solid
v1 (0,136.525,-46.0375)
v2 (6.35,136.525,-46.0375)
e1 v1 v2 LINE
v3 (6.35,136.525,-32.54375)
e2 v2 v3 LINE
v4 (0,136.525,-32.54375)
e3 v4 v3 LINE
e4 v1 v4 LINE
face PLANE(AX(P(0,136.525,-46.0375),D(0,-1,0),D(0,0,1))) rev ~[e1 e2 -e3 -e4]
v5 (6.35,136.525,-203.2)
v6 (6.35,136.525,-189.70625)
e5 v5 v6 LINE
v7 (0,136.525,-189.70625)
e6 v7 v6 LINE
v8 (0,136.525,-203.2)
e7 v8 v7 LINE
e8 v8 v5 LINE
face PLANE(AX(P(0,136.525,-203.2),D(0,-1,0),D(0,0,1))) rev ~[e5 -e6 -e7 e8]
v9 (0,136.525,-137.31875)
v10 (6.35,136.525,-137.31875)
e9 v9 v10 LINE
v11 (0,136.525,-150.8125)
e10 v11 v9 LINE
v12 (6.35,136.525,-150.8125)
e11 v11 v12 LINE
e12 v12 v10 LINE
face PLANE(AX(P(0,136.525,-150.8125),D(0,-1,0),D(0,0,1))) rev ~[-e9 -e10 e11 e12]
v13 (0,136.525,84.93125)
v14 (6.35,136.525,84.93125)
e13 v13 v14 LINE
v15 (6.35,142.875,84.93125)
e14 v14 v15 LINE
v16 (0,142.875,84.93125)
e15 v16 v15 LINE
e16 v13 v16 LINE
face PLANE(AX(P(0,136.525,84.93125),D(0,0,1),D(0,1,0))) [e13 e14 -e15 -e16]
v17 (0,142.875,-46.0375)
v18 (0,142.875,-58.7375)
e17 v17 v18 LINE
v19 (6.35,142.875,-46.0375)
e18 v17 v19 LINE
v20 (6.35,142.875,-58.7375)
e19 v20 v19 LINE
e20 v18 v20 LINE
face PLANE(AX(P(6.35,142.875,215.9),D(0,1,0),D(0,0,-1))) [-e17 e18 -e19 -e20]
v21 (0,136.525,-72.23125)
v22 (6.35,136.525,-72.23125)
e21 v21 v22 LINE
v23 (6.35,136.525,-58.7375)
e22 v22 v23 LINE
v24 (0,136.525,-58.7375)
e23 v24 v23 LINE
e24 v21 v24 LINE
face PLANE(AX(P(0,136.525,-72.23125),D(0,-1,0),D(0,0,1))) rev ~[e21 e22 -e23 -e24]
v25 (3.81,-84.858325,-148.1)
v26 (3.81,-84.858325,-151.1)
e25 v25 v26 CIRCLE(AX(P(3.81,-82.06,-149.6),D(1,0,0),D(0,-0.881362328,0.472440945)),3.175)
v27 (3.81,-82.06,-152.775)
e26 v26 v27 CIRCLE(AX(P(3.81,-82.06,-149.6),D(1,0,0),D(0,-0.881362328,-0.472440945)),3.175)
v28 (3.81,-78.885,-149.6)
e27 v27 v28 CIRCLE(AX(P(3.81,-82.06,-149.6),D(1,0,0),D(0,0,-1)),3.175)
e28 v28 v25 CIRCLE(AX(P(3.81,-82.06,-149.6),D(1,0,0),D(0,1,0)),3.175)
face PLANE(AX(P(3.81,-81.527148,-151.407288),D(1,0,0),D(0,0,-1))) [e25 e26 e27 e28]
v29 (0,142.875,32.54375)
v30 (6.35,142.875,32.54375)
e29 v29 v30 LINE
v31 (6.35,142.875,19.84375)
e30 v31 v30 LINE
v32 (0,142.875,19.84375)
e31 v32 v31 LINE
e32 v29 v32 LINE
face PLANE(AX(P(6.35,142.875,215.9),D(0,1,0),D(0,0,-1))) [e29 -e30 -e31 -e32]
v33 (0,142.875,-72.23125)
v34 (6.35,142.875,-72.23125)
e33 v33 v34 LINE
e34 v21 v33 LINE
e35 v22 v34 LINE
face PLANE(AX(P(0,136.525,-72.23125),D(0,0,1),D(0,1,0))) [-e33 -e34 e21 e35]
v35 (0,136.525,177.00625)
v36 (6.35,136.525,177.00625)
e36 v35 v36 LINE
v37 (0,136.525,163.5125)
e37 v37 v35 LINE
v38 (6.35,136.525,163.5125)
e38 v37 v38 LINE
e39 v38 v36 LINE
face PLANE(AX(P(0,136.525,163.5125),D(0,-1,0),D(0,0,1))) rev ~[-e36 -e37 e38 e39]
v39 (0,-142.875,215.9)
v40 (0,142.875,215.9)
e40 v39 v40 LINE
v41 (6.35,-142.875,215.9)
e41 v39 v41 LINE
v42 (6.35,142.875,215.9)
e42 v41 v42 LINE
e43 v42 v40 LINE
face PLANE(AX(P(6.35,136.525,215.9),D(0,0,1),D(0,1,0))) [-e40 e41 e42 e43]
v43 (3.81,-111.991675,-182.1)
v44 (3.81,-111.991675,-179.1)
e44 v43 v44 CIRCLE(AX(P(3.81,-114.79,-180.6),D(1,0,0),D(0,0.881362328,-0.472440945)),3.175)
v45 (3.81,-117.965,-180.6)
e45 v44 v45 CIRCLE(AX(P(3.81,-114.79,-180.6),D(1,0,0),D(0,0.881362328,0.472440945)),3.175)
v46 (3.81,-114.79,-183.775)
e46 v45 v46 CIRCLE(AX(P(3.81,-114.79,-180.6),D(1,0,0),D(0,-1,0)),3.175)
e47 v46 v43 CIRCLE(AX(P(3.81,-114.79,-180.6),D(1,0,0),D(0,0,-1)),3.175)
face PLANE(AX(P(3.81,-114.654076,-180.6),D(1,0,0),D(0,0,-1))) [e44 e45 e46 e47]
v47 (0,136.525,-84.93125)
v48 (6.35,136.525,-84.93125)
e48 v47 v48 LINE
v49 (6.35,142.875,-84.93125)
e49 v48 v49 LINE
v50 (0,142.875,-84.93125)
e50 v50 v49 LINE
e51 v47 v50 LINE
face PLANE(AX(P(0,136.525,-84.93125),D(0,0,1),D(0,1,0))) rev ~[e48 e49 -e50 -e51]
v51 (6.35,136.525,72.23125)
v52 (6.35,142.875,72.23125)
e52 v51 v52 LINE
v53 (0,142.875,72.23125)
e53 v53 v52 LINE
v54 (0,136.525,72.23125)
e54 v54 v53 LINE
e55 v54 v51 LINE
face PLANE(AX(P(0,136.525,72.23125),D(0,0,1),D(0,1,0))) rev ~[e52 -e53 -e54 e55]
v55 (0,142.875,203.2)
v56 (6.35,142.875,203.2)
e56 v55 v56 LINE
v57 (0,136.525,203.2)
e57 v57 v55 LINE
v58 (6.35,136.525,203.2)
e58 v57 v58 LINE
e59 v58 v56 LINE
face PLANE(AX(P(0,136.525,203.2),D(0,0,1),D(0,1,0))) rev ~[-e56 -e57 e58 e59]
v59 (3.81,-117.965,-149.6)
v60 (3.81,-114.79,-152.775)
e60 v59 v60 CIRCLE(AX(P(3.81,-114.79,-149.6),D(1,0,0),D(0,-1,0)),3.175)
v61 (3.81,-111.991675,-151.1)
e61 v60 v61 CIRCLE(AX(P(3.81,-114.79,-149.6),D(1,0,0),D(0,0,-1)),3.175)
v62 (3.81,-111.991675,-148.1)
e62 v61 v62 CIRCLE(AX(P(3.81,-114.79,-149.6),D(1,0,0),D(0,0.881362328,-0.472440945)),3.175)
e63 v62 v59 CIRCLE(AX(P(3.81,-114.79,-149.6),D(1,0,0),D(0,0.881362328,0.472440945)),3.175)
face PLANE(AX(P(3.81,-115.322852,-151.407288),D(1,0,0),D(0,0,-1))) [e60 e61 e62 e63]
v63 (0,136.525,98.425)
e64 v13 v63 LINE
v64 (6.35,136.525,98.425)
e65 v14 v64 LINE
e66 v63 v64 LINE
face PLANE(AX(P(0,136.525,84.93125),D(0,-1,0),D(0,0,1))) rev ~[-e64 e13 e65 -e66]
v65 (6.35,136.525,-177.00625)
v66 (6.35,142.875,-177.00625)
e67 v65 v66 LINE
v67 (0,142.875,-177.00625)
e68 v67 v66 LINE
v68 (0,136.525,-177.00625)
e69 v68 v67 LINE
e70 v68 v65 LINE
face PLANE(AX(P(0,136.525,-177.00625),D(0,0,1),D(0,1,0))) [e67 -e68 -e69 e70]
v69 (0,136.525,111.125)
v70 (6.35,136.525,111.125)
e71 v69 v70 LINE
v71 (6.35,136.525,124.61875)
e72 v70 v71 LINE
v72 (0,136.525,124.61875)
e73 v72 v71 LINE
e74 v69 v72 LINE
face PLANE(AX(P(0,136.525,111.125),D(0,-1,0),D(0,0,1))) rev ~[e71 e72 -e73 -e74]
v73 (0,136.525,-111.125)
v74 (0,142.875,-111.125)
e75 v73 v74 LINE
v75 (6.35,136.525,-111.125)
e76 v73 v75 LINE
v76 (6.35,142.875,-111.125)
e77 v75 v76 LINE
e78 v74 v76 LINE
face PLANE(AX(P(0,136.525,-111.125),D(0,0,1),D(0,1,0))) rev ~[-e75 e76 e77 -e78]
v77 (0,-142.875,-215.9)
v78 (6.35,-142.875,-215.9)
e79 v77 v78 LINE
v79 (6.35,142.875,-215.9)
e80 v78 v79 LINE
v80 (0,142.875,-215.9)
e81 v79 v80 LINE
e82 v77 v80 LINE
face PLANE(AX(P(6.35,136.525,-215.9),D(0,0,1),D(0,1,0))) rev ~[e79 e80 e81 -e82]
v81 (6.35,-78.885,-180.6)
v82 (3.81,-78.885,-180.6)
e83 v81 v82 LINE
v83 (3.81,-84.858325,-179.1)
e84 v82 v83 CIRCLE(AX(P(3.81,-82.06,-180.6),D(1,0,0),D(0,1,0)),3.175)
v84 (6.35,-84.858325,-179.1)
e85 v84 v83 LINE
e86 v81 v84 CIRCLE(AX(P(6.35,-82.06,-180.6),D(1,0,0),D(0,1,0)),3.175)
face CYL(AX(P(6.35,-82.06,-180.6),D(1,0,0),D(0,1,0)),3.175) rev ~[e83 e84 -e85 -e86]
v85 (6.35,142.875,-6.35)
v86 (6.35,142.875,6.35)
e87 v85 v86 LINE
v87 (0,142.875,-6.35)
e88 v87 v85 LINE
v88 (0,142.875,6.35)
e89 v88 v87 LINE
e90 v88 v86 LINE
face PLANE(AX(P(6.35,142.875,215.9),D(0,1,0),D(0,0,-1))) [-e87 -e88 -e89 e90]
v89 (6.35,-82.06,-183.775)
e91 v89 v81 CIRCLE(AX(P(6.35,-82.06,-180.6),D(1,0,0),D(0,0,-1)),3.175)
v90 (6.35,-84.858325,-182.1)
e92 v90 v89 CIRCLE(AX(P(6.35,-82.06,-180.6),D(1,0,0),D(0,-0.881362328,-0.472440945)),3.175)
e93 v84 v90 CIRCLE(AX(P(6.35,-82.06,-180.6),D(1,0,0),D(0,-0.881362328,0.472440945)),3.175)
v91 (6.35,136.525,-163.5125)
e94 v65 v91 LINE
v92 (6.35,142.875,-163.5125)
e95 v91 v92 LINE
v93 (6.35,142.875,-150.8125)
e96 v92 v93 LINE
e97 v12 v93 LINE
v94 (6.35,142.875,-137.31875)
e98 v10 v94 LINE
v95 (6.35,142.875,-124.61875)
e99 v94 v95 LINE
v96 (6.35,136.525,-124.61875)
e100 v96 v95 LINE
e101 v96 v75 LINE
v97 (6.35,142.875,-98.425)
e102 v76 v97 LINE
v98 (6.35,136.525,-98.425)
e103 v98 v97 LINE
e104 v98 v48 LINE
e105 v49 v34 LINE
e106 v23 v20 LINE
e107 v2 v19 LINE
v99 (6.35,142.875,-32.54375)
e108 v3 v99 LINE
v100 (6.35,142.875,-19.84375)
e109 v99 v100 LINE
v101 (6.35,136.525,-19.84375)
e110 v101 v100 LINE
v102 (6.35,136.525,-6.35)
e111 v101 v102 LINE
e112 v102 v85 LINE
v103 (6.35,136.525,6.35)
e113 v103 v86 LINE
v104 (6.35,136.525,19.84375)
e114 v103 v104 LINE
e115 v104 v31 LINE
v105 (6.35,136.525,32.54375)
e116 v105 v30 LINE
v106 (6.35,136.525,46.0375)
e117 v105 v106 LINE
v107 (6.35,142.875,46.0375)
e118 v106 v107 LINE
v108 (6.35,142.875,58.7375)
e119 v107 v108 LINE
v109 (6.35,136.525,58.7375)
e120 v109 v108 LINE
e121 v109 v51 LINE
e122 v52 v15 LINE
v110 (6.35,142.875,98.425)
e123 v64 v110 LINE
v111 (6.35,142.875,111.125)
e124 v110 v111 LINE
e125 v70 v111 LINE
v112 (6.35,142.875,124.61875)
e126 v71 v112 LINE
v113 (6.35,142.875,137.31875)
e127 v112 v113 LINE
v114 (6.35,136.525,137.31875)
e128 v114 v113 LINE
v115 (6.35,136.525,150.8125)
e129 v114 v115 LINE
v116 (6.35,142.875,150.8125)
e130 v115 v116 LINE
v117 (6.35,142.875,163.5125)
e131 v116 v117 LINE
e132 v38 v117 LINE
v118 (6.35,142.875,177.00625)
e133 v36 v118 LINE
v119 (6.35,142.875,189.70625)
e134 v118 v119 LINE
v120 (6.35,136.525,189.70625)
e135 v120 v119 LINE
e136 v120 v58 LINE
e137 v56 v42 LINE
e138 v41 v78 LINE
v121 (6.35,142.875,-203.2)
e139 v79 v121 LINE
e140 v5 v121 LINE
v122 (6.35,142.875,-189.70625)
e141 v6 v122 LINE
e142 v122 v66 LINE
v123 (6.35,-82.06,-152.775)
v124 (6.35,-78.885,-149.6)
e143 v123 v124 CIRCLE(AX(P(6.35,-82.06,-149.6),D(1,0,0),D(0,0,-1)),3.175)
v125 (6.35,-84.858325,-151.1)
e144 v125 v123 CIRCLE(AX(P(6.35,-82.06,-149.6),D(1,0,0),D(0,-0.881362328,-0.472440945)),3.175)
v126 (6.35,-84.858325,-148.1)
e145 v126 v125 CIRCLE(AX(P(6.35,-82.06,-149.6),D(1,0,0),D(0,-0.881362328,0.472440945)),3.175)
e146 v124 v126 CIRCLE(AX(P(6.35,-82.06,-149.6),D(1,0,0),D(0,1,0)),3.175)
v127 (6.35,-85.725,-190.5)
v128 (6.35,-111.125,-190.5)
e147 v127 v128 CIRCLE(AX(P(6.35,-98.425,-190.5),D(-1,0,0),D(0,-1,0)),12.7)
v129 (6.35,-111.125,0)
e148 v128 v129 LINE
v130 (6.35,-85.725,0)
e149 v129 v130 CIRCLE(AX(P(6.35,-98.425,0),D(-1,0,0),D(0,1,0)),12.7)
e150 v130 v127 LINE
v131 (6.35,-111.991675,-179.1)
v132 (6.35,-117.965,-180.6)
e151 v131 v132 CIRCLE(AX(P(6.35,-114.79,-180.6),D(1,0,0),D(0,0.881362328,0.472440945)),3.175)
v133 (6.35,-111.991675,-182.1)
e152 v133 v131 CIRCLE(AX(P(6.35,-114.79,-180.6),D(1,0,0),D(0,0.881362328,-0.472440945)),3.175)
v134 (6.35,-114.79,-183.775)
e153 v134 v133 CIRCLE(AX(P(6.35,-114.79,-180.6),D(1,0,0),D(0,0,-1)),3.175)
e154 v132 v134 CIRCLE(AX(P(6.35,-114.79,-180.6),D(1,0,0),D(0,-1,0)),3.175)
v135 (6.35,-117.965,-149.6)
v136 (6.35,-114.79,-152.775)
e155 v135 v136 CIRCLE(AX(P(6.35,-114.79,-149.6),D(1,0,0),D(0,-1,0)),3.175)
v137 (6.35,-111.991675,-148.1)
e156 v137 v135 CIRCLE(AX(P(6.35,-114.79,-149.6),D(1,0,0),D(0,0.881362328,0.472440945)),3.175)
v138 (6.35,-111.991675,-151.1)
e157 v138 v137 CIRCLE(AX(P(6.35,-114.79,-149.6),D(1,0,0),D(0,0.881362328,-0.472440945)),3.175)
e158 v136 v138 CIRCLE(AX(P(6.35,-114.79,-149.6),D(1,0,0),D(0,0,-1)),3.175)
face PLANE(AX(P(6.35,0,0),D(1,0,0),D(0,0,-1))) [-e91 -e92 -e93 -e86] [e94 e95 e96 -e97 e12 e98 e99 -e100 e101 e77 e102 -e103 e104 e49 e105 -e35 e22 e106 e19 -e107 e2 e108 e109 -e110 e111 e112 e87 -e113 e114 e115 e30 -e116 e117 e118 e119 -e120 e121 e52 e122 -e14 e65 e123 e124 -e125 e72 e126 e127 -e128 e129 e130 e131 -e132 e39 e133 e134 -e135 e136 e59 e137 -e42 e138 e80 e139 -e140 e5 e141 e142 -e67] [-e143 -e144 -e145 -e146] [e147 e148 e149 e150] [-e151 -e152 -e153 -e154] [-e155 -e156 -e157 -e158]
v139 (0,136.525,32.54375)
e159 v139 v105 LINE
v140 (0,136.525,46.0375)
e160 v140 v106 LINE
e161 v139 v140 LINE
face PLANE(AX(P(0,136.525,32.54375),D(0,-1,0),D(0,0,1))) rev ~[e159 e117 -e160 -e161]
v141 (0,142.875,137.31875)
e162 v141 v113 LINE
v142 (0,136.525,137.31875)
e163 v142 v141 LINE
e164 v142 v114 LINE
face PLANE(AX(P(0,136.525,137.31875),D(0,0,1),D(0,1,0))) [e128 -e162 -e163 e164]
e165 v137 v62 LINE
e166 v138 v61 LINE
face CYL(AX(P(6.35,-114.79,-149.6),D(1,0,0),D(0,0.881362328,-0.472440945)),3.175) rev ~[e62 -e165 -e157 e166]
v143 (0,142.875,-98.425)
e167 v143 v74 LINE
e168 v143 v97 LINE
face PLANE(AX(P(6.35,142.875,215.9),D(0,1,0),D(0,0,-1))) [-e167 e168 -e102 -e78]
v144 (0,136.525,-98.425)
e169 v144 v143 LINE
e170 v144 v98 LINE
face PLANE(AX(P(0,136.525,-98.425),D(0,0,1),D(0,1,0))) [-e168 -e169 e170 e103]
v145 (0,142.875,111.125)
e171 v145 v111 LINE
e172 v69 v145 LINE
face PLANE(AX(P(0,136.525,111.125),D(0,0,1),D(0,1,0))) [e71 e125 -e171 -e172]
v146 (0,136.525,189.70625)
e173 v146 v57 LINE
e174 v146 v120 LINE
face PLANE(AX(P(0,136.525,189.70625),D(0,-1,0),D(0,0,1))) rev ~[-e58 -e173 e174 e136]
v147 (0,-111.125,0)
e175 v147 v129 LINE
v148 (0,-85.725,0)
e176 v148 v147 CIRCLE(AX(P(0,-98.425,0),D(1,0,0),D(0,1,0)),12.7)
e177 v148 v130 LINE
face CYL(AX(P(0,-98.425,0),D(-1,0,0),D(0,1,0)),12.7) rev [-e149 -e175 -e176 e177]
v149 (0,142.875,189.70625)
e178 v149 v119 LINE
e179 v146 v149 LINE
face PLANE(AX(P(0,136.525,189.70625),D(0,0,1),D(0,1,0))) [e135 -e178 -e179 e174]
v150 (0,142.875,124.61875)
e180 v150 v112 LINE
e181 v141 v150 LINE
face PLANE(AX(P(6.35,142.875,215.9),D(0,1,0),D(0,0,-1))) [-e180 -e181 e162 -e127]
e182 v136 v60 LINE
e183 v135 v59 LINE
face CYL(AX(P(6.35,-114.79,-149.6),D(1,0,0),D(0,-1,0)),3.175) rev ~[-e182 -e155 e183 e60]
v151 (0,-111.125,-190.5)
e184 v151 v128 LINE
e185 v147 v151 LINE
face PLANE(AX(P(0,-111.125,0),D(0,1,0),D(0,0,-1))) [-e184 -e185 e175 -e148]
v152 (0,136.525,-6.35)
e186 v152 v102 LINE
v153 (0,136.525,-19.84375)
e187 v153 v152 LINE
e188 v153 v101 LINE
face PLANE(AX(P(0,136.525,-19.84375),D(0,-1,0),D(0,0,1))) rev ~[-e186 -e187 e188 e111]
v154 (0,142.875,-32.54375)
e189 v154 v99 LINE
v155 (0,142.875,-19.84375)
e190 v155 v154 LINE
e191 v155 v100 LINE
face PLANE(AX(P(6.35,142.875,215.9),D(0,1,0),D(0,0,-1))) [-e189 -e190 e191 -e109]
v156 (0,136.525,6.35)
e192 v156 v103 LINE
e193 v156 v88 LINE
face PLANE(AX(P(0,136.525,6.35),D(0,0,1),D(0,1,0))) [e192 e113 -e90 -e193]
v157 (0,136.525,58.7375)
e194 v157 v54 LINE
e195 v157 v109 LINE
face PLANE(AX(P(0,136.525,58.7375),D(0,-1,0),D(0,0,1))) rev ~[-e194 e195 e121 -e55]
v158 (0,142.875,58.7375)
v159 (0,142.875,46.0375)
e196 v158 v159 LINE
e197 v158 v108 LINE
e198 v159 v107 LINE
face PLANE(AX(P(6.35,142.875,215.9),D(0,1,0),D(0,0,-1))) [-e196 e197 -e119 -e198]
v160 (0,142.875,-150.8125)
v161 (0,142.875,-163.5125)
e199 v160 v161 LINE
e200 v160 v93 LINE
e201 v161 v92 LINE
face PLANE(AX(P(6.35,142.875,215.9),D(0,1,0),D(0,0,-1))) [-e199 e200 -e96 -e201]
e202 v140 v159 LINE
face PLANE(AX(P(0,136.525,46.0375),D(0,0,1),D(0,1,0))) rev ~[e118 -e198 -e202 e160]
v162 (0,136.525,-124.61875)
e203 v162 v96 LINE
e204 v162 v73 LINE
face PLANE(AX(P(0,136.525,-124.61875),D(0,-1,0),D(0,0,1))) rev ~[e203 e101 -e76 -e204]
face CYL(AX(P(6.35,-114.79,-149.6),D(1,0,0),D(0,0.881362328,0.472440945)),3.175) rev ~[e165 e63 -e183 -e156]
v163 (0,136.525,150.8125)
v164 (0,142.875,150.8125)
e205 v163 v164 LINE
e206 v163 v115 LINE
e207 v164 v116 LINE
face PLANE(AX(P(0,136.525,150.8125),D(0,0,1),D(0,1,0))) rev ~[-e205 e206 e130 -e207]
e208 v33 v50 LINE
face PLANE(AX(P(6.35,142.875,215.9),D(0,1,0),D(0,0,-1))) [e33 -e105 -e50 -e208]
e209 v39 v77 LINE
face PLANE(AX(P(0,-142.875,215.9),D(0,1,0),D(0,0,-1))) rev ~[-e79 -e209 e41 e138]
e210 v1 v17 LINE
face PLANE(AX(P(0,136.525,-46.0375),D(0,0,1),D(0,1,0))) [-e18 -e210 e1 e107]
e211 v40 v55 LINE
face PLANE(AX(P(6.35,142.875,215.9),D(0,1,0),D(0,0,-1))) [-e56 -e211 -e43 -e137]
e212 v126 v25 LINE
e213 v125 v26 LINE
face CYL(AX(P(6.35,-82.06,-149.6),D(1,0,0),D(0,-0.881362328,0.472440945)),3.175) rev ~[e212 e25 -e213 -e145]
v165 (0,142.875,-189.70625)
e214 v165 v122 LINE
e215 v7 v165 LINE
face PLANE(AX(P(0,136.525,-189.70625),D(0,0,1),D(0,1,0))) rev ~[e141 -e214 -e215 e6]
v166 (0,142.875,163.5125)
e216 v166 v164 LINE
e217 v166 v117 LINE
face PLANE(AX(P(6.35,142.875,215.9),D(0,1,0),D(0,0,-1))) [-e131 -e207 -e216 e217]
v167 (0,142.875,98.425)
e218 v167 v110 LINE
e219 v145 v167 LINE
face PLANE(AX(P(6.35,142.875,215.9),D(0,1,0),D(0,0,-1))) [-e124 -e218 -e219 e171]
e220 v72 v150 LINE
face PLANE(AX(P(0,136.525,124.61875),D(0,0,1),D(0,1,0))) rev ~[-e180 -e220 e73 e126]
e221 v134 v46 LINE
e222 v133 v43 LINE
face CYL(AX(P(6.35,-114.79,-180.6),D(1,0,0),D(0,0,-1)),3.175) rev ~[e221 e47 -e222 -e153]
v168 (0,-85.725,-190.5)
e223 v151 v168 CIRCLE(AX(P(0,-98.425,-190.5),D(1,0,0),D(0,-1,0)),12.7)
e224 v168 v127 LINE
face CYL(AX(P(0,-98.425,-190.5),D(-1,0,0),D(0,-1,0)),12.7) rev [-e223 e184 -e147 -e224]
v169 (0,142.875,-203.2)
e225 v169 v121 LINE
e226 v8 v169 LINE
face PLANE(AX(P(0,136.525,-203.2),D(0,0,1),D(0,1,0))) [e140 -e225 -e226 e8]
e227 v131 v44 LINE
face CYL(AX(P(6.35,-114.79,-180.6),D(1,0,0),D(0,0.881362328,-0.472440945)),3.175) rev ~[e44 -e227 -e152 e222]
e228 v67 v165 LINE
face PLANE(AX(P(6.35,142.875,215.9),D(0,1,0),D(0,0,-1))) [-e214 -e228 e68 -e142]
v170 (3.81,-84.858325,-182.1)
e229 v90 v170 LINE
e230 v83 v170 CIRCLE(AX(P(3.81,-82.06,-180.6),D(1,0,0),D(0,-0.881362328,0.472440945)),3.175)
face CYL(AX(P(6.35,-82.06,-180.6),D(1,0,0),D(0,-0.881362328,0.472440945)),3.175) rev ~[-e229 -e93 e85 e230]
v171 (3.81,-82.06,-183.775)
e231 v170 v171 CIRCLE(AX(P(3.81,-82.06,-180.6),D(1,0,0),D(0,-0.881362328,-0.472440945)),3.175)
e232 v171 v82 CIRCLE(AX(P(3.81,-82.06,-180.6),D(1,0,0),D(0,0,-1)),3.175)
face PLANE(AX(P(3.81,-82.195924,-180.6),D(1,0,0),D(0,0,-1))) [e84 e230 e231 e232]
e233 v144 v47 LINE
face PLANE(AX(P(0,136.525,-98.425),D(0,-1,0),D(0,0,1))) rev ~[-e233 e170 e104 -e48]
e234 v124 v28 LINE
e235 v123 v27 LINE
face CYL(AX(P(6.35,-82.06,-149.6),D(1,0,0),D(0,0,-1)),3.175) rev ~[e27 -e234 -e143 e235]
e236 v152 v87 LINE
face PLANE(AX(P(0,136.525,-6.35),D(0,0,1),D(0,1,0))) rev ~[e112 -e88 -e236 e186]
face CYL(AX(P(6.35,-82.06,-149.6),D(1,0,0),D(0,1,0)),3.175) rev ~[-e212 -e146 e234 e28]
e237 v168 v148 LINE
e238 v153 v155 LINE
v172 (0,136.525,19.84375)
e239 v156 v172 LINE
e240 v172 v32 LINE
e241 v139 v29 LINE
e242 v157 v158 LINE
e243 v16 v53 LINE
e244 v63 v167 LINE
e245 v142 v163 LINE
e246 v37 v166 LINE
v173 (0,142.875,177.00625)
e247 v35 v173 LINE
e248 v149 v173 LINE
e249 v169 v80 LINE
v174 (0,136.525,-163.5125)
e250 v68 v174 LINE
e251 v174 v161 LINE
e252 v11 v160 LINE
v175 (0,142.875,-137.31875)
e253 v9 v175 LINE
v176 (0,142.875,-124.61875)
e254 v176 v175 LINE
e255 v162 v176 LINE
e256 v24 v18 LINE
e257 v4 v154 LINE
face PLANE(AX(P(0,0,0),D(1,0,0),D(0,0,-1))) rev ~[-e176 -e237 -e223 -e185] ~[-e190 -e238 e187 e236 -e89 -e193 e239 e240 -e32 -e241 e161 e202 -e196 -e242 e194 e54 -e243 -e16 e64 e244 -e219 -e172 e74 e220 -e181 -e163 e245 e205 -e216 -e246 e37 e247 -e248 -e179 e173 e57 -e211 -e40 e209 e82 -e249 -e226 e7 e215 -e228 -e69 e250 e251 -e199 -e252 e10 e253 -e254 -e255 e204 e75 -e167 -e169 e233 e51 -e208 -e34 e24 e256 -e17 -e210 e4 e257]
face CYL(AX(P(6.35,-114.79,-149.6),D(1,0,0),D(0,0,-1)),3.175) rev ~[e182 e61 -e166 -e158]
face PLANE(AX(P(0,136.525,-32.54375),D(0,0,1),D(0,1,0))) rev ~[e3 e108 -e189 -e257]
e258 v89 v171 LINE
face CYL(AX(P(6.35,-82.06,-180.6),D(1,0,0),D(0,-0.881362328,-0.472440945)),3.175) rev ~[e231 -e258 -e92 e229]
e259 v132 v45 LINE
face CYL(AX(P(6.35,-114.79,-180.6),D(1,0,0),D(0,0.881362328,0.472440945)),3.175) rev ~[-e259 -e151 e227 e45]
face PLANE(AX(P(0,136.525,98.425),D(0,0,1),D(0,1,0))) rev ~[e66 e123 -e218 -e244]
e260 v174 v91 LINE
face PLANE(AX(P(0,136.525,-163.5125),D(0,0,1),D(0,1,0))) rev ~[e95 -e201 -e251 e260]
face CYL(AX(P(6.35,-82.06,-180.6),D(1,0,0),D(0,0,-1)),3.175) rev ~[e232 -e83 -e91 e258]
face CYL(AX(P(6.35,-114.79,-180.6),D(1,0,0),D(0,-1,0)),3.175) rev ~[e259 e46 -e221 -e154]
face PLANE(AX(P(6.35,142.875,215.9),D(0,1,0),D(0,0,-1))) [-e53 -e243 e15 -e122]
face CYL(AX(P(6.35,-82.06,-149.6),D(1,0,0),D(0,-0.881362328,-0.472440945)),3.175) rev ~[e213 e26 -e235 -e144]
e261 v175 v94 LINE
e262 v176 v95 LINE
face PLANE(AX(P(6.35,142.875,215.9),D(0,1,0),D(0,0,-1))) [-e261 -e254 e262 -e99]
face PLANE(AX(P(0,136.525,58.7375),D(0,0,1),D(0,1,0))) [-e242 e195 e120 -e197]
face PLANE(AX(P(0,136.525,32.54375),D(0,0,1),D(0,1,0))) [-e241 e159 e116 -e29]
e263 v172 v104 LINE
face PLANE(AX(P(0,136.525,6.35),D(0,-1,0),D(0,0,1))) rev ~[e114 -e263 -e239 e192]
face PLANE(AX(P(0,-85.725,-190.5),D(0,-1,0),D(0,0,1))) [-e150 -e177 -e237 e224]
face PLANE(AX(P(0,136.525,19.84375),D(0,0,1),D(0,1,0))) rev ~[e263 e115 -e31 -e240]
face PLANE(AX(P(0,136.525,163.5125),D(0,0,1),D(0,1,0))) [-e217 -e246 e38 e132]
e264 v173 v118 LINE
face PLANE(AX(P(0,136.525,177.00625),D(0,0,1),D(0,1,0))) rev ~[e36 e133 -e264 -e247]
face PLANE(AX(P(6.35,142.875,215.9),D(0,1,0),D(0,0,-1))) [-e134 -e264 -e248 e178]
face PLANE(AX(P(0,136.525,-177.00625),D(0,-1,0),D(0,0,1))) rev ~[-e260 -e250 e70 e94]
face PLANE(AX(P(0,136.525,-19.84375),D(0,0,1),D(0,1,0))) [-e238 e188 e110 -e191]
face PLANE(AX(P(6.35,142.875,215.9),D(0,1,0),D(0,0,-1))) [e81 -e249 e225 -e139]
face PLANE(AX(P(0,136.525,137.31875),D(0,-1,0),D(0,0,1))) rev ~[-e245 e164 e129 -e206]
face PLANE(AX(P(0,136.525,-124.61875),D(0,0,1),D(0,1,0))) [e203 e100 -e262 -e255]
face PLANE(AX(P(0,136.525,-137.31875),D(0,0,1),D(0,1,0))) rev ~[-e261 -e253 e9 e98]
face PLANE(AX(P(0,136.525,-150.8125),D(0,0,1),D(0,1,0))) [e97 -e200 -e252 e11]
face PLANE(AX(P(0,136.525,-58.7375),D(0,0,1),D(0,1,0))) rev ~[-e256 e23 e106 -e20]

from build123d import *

# Parameters (mm, degrees)
SKETCH1_W           = 431.8
SKETCH1_H           = 285.75
BOSS_EXTRUDE1_DEPTH = 6.35
SKETCH2_W           = 431.8
SKETCH2_H           = 6.35
BOSS_EXTRUDE2_DEPTH = 12.7
CUT_EXTRUDE1_DEPTH  = 20.05
SKETCH5_W           = 51.415141408
SKETCH5_H           = 21.159166417
CUT_EXTRUDE2_DEPTH  = 432.8
SKETCH4_W           = 13.49375
SKETCH4_H           = 6.35
CUT_EXTRUDE3_DEPTH  = 6.35
CUT_EXTRUDE5_DEPTH  = 2.54


with BuildPart() as part:
    # Sketch1 → Boss-Extrude1 (new body)
    with BuildSketch(Plane(origin=(0, 0, 0), x_dir=(0, 0, -1), z_dir=(1, 0, 0))):
        Rectangle(SKETCH1_W, SKETCH1_H)
    extrude(amount=BOSS_EXTRUDE1_DEPTH)

    # Sketch2 → Boss-Extrude2 (add)
    with BuildSketch(Plane(origin=(6.35, 0, 0), x_dir=(0, 0, -1), z_dir=(1, 0, 0))):
        with Locations((0, 139.7)):
            Rectangle(SKETCH2_W, SKETCH2_H)
    extrude(amount=BOSS_EXTRUDE2_DEPTH)

    # Sketch3 → Cut-Extrude1 (cut, through all)
    with BuildSketch(Plane.ZY):
        with BuildLine():
            Line((-190.5, -85.725), (0, -85.725))
            ThreePointArc((0, -85.725), (12.7, -98.425), (0, -111.125))
            Line((0, -111.125), (-190.5, -111.125))
            ThreePointArc((-190.5, -111.125), (-203.2, -98.425), (-190.5, -85.725))
        make_face()
    extrude(amount=-CUT_EXTRUDE1_DEPTH, mode=Mode.SUBTRACT)

    # Sketch5 → Cut-Extrude2 (cut, through all)
    with BuildSketch(Plane(origin=(0, 0, -215.9), x_dir=(-1, 0, 0), z_dir=(0, 0, -1))):
        with Locations((-32.057570704, 147.104583209)):
            Rectangle(SKETCH5_W, SKETCH5_H)
    extrude(amount=-CUT_EXTRUDE2_DEPTH, mode=Mode.SUBTRACT)

    # Sketch4 → Cut-Extrude3 (cut)
    with BuildSketch(Plane.ZY):
        with Locations((-196.453125, 139.7)):
            Rectangle(SKETCH4_W, SKETCH4_H)
        with Locations((-170.259375, 139.7)):
            Rectangle(SKETCH4_W, SKETCH4_H)
        with Locations((-144.065625, 139.7)):
            Rectangle(SKETCH4_W, SKETCH4_H)
        with Locations((-117.871875, 139.7)):
            Rectangle(SKETCH4_W, SKETCH4_H)
        with Locations((-91.678125, 139.7)):
            Rectangle(SKETCH4_W, SKETCH4_H)
        with Locations((-65.484375, 139.7)):
            Rectangle(SKETCH4_W, SKETCH4_H)
        with Locations((-39.290625, 139.7)):
            Rectangle(SKETCH4_W, SKETCH4_H)
        with Locations((-13.096875, 139.7)):
            Rectangle(SKETCH4_W, SKETCH4_H)
        with Locations((13.096875, 139.7)):
            Rectangle(SKETCH4_W, SKETCH4_H)
        with Locations((39.290625, 139.7)):
            Rectangle(SKETCH4_W, SKETCH4_H)
        with Locations((65.484375, 139.7)):
            Rectangle(SKETCH4_W, SKETCH4_H)
        with Locations((91.678125, 139.7)):
            Rectangle(SKETCH4_W, SKETCH4_H)
        with Locations((117.871875, 139.7)):
            Rectangle(SKETCH4_W, SKETCH4_H)
        with Locations((144.065625, 139.7)):
            Rectangle(SKETCH4_W, SKETCH4_H)
        with Locations((170.259375, 139.7)):
            Rectangle(SKETCH4_W, SKETCH4_H)
        with Locations((196.453125, 139.7)):
            Rectangle(SKETCH4_W, SKETCH4_H)
    extrude(amount=-CUT_EXTRUDE3_DEPTH, mode=Mode.SUBTRACT)

    # Sketch6 → Cut-Extrude5 (cut)
    with BuildSketch(Plane(origin=(6.35, 0, 0), x_dir=(0, 0, -1), z_dir=(1, 0, 0))):
        with BuildLine():
            ThreePointArc((152.775, -82.06), (151.84506403, -79.81493597), (149.6, -78.885))
            ThreePointArc((149.6, -78.885), (150.660660172, -79.324339828), (151.1, -80.385))
            Line((151.1, -80.385), (151.1, -84.858325392))
            ThreePointArc((151.1, -84.858325392), (152.324254485, -83.690663209), (152.775, -82.06))
        make_face()
        with BuildLine():
            Line((148.1, -80.385), (148.1, -84.858325392))
            ThreePointArc((148.1, -84.858325392), (149.6, -85.235), (151.1, -84.858325392))
            Line((151.1, -84.858325392), (151.1, -80.385))
            ThreePointArc((151.1, -80.385), (150.660660172, -79.324339828), (149.6, -78.885))
            ThreePointArc((149.6, -78.885), (148.539339828, -79.324339828), (148.1, -80.385))
        make_face()
        with BuildLine():
            ThreePointArc((149.6, -78.885), (146.520608167, -81.286714193), (148.1, -84.858325392))
            Line((148.1, -84.858325392), (148.1, -80.385))
            ThreePointArc((148.1, -80.385), (148.539339828, -79.324339828), (149.6, -78.885))
        make_face()
        with BuildLine():
            Line((179.1, -80.385), (179.1, -84.858325392))
            ThreePointArc((179.1, -84.858325392), (180.6, -85.235), (182.1, -84.858325392))
            Line((182.1, -84.858325392), (182.1, -80.385))
            ThreePointArc((182.1, -80.385), (181.660660172, -79.324339828), (180.6, -78.885))
            ThreePointArc((180.6, -78.885), (179.539339828, -79.324339828), (179.1, -80.385))
        make_face()
        with BuildLine():
            ThreePointArc((180.6, -78.885), (177.520608167, -81.286714193), (179.1, -84.858325392))
            Line((179.1, -84.858325392), (179.1, -80.385))
            ThreePointArc((179.1, -80.385), (179.539339828, -79.324339828), (180.6, -78.885))
        make_face()
        with BuildLine():
            ThreePointArc((183.775, -82.06), (182.84506403, -79.81493597), (180.6, -78.885))
            ThreePointArc((180.6, -78.885), (181.660660172, -79.324339828), (182.1, -80.385))
            Line((182.1, -80.385), (182.1, -84.858325392))
            ThreePointArc((182.1, -84.858325392), (183.324254485, -83.690663209), (183.775, -82.06))
        make_face()
        with BuildLine():
            ThreePointArc((151.1, -116.465), (150.660660172, -117.525660172), (149.6, -117.965))
            ThreePointArc((149.6, -117.965), (151.84506403, -117.03506403), (152.775, -114.79))
            ThreePointArc((152.775, -114.79), (152.324254485, -113.159336791), (151.1, -111.991674608))
            Line((151.1, -111.991674608), (151.1, -116.465))
        make_face()
        with BuildLine():
            Line((148.1, -111.991674608), (148.1, -116.465))
            ThreePointArc((148.1, -116.465), (148.539339828, -117.525660172), (149.6, -117.965))
            ThreePointArc((149.6, -117.965), (150.660660172, -117.525660172), (151.1, -116.465))
            Line((151.1, -116.465), (151.1, -111.991674608))
            ThreePointArc((151.1, -111.991674608), (149.6, -111.615), (148.1, -111.991674608))
        make_face()
        with BuildLine():
            ThreePointArc((149.6, -117.965), (148.539339828, -117.525660172), (148.1, -116.465))
            Line((148.1, -116.465), (148.1, -111.991674608))
            ThreePointArc((148.1, -111.991674608), (146.520608167, -115.563285807), (149.6, -117.965))
        make_face()
        with BuildLine():
            ThreePointArc((180.6, -117.965), (181.660660172, -117.525660172), (182.1, -116.465))
            Line((182.1, -116.465), (182.1, -111.991674608))
            ThreePointArc((182.1, -111.991674608), (180.6, -111.615), (179.1, -111.991674608))
            Line((179.1, -111.991674608), (179.1, -116.465))
            ThreePointArc((179.1, -116.465), (179.539339828, -117.525660172), (180.6, -117.965))
        make_face()
        with BuildLine():
            Line((182.1, -111.991674608), (182.1, -116.465))
            ThreePointArc((182.1, -116.465), (181.660660172, -117.525660172), (180.6, -117.965))
            ThreePointArc((180.6, -117.965), (182.84506403, -117.03506403), (183.775, -114.79))
            ThreePointArc((183.775, -114.79), (183.324254485, -113.159336791), (182.1, -111.991674608))
        make_face()
        with BuildLine():
            ThreePointArc((179.1, -111.991674608), (177.520608167, -115.563285807), (180.6, -117.965))
            ThreePointArc((180.6, -117.965), (179.539339828, -117.525660172), (179.1, -116.465))
            Line((179.1, -116.465), (179.1, -111.991674608))
        make_face()
    extrude(amount=-CUT_EXTRUDE5_DEPTH, mode=Mode.SUBTRACT)


solid = part.part
